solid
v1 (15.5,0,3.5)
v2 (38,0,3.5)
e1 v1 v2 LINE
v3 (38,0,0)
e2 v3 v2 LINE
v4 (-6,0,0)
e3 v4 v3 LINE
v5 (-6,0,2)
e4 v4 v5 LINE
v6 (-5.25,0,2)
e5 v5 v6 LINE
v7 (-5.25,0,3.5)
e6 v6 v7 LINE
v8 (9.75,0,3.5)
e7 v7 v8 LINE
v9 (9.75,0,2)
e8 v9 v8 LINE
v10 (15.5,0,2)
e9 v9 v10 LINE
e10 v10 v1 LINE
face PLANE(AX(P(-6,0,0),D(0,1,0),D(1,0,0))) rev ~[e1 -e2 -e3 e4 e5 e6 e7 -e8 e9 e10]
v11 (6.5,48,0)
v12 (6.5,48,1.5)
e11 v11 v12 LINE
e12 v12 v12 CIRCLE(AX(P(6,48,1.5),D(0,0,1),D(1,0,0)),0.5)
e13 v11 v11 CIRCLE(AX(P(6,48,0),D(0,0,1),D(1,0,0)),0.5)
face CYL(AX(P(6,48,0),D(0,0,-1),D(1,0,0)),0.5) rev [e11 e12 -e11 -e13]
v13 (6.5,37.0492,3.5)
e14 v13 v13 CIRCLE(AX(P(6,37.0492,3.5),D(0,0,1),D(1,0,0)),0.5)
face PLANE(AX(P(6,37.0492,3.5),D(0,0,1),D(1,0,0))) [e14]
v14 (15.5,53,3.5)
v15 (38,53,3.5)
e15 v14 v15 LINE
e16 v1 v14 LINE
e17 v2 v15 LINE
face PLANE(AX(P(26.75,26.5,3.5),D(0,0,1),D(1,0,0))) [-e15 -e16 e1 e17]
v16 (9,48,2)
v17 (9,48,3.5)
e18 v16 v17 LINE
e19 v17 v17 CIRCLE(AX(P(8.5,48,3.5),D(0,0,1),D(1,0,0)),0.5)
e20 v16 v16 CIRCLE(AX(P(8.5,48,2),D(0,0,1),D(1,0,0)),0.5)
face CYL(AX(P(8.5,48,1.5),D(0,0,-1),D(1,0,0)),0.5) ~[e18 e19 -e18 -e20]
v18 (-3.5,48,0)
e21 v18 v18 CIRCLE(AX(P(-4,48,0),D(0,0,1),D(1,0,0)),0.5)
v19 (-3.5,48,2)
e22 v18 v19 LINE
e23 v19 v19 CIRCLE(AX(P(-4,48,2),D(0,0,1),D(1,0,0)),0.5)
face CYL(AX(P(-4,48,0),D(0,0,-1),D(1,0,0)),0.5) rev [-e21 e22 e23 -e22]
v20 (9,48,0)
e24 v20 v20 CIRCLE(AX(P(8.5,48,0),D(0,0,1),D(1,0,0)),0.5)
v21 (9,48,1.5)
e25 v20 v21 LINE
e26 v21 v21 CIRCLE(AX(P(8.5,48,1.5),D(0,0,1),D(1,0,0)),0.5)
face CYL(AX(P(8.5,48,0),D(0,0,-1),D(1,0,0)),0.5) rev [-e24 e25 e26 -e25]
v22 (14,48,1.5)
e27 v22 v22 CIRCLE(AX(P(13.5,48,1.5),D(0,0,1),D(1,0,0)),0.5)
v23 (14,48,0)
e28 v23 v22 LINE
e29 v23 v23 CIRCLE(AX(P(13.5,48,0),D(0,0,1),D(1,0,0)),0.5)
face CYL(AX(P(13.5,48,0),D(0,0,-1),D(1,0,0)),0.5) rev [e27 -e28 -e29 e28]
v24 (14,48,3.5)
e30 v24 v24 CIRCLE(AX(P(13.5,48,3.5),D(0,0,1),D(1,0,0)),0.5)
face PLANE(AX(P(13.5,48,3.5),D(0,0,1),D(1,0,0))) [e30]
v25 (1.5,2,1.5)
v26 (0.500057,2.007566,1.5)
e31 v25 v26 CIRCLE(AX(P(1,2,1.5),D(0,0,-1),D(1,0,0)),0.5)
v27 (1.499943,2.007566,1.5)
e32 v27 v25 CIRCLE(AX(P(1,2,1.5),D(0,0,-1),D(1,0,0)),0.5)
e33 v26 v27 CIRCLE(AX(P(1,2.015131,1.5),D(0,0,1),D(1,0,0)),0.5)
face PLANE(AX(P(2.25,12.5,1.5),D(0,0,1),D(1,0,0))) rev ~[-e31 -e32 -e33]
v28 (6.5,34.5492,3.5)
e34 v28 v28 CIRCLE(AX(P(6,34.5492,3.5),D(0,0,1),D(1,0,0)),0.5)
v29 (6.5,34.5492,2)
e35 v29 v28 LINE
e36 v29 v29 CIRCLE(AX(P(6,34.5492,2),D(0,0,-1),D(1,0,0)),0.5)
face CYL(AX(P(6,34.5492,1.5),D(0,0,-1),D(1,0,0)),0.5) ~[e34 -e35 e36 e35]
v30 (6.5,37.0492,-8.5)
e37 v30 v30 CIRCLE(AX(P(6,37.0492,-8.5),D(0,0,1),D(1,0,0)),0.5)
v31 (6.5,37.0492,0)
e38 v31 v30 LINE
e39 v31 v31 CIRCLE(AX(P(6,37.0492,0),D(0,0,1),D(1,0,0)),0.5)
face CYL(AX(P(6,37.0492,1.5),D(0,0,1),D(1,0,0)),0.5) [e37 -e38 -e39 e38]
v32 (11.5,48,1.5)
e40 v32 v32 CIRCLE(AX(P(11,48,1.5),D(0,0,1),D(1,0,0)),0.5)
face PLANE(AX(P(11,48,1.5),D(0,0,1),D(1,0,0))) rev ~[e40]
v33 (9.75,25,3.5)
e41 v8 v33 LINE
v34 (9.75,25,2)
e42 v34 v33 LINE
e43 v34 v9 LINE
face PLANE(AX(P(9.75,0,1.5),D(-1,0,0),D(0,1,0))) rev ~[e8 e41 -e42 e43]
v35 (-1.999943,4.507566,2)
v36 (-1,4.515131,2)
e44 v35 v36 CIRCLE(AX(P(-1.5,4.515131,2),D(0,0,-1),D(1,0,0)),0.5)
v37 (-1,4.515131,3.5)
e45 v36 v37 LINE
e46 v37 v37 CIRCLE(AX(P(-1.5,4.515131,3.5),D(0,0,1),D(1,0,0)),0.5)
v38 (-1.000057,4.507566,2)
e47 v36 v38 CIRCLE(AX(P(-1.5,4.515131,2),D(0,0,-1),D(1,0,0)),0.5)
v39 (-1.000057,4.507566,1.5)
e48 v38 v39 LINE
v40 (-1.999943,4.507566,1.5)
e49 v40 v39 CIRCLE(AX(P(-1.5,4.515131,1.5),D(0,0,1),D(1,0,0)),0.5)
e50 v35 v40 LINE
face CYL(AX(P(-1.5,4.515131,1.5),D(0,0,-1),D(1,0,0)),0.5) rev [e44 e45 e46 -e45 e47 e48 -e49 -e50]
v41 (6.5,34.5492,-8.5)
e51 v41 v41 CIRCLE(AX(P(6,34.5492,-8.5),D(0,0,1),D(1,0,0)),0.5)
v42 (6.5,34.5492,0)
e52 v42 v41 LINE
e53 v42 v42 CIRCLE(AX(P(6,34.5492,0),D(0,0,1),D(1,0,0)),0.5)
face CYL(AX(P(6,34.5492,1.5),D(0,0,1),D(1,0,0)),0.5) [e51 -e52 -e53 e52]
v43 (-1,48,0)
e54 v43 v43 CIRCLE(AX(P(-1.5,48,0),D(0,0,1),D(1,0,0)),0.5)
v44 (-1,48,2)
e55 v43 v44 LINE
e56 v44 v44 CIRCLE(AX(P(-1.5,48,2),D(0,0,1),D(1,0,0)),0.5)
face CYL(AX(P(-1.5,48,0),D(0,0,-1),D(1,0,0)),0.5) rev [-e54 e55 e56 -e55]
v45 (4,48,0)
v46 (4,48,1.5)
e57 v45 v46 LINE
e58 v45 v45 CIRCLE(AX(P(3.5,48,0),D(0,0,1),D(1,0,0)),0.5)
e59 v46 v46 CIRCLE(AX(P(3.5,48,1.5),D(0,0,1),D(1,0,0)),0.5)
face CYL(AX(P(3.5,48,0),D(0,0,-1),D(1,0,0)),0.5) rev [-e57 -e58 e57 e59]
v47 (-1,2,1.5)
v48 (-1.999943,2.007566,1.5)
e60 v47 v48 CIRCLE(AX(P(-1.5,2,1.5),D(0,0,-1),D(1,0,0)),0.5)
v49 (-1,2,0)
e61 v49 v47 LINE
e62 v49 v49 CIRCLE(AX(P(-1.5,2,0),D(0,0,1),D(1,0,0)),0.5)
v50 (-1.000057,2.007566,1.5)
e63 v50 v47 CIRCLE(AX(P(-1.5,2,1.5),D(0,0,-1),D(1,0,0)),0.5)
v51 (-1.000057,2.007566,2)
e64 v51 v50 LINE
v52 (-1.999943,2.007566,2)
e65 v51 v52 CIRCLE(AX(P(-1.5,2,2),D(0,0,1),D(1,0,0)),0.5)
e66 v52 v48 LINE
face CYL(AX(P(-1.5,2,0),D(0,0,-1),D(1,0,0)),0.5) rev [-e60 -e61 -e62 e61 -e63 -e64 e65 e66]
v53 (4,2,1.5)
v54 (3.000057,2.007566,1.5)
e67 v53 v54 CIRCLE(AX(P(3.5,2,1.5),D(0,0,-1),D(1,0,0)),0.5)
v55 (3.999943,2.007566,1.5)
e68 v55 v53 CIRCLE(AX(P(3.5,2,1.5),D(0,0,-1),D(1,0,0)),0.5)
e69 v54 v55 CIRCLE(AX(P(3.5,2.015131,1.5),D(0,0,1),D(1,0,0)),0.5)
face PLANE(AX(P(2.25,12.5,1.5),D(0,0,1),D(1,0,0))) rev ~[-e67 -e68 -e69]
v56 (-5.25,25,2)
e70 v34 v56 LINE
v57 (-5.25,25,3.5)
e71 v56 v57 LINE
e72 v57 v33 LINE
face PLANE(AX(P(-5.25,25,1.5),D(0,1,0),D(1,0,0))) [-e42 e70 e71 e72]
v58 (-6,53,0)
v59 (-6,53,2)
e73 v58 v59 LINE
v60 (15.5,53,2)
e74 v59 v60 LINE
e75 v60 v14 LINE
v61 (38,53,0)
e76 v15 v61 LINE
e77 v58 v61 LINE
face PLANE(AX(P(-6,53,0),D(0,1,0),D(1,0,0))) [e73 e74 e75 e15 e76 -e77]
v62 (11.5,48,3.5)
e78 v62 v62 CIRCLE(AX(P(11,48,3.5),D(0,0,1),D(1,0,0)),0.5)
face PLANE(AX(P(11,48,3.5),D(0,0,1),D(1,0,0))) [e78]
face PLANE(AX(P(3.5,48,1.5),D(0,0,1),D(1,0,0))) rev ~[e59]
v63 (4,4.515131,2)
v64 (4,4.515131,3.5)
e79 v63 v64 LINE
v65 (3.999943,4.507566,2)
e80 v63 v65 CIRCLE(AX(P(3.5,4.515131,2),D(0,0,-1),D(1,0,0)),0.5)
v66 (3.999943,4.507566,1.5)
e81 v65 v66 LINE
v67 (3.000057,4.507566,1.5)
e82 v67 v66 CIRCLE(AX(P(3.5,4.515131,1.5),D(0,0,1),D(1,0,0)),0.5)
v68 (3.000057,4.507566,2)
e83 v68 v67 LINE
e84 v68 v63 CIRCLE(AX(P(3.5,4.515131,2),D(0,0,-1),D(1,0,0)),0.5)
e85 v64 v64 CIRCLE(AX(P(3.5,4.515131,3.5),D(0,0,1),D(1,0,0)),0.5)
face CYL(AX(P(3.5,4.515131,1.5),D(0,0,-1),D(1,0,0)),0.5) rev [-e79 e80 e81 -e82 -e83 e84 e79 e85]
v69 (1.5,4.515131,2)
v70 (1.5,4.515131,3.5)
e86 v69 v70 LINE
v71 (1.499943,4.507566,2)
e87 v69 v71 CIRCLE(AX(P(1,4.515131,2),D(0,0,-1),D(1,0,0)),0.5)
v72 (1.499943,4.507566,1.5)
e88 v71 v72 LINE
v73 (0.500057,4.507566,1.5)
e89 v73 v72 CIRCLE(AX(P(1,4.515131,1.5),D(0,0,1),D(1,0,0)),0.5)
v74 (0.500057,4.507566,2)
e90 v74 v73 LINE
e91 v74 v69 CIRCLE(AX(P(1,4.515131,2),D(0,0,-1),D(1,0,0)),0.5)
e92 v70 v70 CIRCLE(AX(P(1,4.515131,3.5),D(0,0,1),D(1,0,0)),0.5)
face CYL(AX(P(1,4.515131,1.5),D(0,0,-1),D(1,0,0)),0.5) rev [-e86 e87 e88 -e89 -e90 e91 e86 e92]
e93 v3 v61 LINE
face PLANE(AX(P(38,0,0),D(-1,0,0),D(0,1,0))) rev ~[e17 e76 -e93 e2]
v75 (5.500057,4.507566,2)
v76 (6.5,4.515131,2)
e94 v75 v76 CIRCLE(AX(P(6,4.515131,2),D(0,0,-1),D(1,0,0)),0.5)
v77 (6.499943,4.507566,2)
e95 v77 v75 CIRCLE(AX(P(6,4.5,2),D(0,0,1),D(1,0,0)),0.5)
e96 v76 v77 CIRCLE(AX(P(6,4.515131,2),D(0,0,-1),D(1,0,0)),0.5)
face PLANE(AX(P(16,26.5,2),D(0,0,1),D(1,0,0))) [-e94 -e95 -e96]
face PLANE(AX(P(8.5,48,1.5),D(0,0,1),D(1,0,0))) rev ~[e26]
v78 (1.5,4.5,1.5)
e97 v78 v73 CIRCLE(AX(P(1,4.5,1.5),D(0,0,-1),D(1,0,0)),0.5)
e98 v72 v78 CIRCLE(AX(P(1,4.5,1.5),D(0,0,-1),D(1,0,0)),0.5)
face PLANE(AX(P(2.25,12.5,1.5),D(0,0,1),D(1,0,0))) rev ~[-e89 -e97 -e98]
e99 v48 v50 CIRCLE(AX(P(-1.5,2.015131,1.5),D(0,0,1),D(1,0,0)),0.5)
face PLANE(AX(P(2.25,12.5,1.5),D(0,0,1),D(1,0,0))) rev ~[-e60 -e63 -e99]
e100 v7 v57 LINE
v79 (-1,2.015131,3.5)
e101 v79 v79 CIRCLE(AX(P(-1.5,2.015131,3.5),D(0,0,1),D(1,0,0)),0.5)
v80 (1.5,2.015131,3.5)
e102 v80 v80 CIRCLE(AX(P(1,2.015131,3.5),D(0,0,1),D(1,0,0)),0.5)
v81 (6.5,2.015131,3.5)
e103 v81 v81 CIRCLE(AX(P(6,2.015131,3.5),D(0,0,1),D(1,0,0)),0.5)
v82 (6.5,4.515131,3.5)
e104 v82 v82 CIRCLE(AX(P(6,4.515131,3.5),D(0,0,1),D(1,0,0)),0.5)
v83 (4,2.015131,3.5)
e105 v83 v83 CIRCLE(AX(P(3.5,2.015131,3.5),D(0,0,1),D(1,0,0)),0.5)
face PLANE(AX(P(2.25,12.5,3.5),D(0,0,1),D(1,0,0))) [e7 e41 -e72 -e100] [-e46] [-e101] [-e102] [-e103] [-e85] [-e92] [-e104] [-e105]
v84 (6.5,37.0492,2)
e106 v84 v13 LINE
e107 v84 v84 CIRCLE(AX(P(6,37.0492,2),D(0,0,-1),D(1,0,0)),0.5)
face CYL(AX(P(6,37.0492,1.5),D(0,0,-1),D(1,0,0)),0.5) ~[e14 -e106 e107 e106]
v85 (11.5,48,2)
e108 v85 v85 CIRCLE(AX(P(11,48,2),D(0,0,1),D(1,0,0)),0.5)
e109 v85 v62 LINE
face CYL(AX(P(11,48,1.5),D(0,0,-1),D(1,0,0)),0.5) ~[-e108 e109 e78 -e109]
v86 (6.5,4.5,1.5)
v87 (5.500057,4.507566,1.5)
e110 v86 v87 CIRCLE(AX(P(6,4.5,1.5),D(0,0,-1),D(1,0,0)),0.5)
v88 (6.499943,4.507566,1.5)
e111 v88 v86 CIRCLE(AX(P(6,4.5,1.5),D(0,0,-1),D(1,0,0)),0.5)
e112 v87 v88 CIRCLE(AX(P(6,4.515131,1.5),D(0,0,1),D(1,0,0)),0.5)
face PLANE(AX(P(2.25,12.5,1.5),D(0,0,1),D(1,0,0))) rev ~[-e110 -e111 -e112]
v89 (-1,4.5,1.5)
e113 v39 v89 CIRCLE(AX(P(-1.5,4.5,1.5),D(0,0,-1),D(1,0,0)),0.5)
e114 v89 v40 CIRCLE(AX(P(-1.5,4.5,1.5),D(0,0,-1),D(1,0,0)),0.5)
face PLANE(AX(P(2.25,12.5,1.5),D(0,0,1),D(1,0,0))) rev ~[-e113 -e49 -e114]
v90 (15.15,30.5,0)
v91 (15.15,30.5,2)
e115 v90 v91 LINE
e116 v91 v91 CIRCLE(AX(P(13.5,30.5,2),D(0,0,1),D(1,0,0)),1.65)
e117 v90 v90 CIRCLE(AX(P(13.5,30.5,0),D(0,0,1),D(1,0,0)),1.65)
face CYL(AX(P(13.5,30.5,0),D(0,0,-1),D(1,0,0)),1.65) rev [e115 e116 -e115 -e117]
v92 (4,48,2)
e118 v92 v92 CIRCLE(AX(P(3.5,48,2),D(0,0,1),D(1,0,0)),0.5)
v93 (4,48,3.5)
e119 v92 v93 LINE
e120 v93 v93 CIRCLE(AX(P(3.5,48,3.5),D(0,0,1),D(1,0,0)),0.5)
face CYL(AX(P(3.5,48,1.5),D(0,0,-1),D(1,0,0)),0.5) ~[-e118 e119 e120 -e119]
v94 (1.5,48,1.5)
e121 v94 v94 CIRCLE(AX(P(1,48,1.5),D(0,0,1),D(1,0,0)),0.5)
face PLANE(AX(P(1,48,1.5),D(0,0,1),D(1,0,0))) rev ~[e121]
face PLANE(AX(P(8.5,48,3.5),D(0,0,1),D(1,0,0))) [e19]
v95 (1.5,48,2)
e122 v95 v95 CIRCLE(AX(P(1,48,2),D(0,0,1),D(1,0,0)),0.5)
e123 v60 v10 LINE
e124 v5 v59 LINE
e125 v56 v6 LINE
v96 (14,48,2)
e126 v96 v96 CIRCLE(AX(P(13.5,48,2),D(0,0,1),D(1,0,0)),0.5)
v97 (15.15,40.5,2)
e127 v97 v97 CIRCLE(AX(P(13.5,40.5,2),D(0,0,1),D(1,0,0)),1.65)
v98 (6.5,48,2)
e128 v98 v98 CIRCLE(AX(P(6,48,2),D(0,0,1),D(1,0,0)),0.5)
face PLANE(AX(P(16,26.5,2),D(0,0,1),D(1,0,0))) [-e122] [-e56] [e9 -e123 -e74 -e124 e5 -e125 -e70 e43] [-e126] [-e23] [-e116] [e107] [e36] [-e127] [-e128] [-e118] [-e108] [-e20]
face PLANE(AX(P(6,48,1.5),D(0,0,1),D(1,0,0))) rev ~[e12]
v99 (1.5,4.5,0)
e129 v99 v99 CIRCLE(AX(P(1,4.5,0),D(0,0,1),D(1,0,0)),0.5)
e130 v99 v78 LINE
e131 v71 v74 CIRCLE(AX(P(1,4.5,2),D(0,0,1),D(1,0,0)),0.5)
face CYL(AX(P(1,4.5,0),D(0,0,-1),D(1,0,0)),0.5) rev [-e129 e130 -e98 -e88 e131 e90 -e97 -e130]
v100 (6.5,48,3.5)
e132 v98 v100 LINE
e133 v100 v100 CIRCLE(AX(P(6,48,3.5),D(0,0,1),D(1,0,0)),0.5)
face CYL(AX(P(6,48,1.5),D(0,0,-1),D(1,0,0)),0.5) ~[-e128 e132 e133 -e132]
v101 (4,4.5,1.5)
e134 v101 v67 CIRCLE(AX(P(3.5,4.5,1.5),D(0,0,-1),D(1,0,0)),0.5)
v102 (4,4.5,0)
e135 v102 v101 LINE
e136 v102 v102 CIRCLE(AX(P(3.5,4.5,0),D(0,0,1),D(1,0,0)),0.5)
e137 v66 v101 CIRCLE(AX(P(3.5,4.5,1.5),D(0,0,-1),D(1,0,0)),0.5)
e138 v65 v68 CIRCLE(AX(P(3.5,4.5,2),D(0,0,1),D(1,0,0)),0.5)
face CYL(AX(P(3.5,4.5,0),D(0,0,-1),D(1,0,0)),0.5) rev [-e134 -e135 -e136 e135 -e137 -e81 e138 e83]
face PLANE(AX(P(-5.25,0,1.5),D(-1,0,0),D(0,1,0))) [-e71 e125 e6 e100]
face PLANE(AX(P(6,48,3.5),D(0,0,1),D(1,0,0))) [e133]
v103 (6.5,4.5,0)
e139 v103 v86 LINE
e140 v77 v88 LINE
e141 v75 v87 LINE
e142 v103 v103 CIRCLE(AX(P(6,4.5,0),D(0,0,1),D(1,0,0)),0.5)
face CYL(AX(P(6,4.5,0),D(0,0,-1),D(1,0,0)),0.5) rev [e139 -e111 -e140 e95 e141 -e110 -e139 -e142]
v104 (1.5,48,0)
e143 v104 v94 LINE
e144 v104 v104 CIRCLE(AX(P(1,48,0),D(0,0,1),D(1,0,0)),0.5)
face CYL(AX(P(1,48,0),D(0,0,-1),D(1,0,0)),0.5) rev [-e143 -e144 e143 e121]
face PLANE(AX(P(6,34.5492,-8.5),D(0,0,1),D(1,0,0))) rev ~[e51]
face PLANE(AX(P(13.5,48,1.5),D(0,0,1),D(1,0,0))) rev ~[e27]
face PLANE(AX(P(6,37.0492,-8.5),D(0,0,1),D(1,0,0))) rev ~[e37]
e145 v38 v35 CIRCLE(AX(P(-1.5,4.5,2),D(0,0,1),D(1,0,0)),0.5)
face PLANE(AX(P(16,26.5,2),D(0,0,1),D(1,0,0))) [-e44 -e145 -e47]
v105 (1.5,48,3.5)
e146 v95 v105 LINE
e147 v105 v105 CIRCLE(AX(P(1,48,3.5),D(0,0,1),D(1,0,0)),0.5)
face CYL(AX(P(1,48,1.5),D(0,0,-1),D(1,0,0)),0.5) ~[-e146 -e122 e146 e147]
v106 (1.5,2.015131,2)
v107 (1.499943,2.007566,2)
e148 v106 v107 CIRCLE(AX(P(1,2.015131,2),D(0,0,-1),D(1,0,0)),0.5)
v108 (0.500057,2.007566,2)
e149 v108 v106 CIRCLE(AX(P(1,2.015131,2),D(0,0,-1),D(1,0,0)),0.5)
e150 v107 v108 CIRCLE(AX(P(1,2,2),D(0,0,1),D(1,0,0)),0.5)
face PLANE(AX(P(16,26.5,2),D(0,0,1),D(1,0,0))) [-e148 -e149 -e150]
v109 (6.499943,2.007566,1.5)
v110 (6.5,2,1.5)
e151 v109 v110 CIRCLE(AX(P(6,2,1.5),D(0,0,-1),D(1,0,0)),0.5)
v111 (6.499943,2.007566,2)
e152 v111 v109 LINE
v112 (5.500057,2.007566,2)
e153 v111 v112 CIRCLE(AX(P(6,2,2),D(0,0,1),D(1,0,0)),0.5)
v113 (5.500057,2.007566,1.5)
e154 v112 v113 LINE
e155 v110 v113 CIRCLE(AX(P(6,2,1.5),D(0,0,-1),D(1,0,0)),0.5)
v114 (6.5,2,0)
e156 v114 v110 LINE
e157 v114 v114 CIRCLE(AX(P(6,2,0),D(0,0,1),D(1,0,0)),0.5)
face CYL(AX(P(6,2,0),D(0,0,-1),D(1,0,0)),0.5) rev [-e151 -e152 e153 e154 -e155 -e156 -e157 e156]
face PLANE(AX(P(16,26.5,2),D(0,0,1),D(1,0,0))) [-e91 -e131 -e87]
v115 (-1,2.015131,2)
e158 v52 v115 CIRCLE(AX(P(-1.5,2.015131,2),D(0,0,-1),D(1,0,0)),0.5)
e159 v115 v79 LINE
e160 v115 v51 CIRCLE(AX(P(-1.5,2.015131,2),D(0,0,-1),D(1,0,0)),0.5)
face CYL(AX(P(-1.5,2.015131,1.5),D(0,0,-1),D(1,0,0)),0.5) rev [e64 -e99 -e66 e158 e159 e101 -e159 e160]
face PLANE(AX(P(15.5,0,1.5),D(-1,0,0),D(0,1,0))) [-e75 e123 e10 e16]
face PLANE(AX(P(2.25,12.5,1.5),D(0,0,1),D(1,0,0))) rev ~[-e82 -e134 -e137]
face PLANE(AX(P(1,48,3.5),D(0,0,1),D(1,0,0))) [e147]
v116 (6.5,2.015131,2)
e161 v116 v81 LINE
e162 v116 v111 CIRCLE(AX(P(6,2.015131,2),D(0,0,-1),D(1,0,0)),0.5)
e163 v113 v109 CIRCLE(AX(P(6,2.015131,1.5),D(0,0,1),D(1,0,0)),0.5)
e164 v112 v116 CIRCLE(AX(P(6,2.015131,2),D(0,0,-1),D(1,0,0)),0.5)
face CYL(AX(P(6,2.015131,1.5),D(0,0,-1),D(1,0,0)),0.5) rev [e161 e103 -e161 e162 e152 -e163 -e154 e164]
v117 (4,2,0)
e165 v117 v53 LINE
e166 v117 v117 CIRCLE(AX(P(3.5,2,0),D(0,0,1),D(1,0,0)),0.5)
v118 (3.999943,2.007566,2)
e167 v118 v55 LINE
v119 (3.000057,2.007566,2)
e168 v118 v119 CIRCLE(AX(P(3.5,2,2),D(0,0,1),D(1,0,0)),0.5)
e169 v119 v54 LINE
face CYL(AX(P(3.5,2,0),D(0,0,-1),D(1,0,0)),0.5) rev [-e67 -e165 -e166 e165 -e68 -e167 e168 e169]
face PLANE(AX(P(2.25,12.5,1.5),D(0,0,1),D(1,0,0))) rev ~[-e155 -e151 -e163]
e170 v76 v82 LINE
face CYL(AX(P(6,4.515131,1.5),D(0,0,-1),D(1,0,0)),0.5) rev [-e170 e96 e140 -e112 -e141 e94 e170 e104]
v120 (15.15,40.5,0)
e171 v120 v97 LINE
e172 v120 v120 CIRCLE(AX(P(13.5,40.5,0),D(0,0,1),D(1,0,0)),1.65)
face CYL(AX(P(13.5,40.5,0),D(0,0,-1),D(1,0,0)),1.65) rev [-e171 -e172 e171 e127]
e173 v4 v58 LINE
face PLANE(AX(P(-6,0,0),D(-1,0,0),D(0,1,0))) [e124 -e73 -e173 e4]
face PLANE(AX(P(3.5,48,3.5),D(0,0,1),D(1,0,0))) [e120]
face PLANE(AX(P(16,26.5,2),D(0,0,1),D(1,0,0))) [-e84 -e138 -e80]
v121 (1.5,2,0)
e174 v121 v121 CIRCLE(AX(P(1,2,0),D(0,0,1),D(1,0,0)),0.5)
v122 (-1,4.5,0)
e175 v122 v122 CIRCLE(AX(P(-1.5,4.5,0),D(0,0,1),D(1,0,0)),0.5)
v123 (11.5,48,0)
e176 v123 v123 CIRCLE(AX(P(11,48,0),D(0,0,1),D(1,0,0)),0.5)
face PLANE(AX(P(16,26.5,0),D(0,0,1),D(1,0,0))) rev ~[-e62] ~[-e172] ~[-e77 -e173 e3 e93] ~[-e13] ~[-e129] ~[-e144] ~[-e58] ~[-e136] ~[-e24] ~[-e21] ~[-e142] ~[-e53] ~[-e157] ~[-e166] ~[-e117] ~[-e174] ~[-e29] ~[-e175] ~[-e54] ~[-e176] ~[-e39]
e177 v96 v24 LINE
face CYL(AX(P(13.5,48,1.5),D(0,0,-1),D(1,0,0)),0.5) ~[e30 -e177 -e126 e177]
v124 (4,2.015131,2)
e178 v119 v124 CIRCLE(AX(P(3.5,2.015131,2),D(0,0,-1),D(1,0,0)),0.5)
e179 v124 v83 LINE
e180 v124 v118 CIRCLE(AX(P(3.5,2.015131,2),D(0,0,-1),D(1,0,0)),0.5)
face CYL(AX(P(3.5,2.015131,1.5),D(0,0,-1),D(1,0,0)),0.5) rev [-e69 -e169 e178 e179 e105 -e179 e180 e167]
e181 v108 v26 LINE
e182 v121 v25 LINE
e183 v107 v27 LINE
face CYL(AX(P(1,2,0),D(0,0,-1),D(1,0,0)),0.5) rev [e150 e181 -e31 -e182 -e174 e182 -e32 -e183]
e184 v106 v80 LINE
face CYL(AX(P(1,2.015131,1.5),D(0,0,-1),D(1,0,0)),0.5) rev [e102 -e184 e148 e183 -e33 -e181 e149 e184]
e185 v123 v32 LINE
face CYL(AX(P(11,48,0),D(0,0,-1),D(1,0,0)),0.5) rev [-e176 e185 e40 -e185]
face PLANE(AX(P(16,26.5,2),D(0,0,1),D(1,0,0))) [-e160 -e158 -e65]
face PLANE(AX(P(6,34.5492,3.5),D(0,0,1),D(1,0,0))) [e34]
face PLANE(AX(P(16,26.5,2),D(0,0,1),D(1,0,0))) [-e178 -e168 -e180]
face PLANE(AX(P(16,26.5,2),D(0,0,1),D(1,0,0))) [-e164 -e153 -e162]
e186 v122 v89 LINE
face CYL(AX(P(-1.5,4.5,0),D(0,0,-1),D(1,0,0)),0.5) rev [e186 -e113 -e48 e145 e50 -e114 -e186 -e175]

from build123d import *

# Parameters (mm, degrees)
SKETCH_W      = 44
SKETCH_H      = 53
SKETCH_R      = 1.65
SKETCH_R_2    = 0.5
PAD_DEPTH     = 2
SKETCH001_R   = 0.5
SKETCH001_W   = 22.5
SKETCH001_H   = 53
SKETCH001_W_2 = 15
SKETCH001_H_2 = 25
PAD001_DEPTH  = 2
SKETCH002_R   = 0.5
PAD002_DEPTH  = 10


with BuildPart() as part:
    # Sketch → Pad (new body)
    with BuildSketch(Plane.XY):
        with Locations((16, 26.5)):
            Rectangle(SKETCH_W, SKETCH_H)
        with Locations((13.5, 40.5)):
            Circle(SKETCH_R, mode=Mode.SUBTRACT)
        with Locations((13.5, 30.5)):
            Circle(SKETCH_R, mode=Mode.SUBTRACT)
        with Locations((1, 48)):
            Circle(SKETCH_R_2, mode=Mode.SUBTRACT)
        with Locations((3.5, 48)):
            Circle(SKETCH_R_2, mode=Mode.SUBTRACT)
        with Locations((6, 48)):
            Circle(SKETCH_R_2, mode=Mode.SUBTRACT)
        with Locations((8.5, 48)):
            Circle(SKETCH_R_2, mode=Mode.SUBTRACT)
        with Locations((11, 48)):
            Circle(SKETCH_R_2, mode=Mode.SUBTRACT)
        with Locations((13.5, 48)):
            Circle(SKETCH_R_2, mode=Mode.SUBTRACT)
        with Locations((-4, 48)):
            Circle(SKETCH_R_2, mode=Mode.SUBTRACT)
        with Locations((-1.5, 48)):
            Circle(SKETCH_R_2, mode=Mode.SUBTRACT)
        with Locations((3.5, 4.5)):
            Circle(SKETCH_R_2, mode=Mode.SUBTRACT)
        with Locations((6, 4.5)):
            Circle(SKETCH_R_2, mode=Mode.SUBTRACT)
        with Locations((-1.5, 4.5)):
            Circle(SKETCH_R_2, mode=Mode.SUBTRACT)
        with Locations((1, 4.5)):
            Circle(SKETCH_R_2, mode=Mode.SUBTRACT)
        with Locations((3.5, 2)):
            Circle(SKETCH_R_2, mode=Mode.SUBTRACT)
        with Locations((6, 2)):
            Circle(SKETCH_R_2, mode=Mode.SUBTRACT)
        with Locations((-1.5, 2)):
            Circle(SKETCH_R_2, mode=Mode.SUBTRACT)
        with Locations((1, 2)):
            Circle(SKETCH_R_2, mode=Mode.SUBTRACT)
    extrude(amount=PAD_DEPTH)

    # Sketch001 → Pad001 (join)
    with BuildSketch(Plane.XY.offset(1.5)):
        with Locations((1, 48)):
            Circle(SKETCH001_R)
        with Locations((3.5, 48)):
            Circle(SKETCH001_R)
        with Locations((6, 48)):
            Circle(SKETCH001_R)
        with Locations((8.5, 48)):
            Circle(SKETCH001_R)
        with Locations((11, 48)):
            Circle(SKETCH001_R)
        with Locations((13.5, 48)):
            Circle(SKETCH001_R)
        with Locations((6, 37.0492)):
            Circle(SKETCH001_R)
        with Locations((6, 34.5492)):
            Circle(SKETCH001_R)
        with Locations((26.75, 26.5)):
            Rectangle(SKETCH001_W, SKETCH001_H)
        with Locations((2.25, 12.5)):
            Rectangle(SKETCH001_W_2, SKETCH001_H_2)
        with Locations((3.5, 4.515131)):
            Circle(SKETCH001_R, mode=Mode.SUBTRACT)
        with Locations((6, 4.515131)):
            Circle(SKETCH001_R, mode=Mode.SUBTRACT)
        with Locations((-1.5, 4.515131)):
            Circle(SKETCH001_R, mode=Mode.SUBTRACT)
        with Locations((1, 4.515131)):
            Circle(SKETCH001_R, mode=Mode.SUBTRACT)
        with Locations((3.5, 2.015131)):
            Circle(SKETCH001_R, mode=Mode.SUBTRACT)
        with Locations((6, 2.015131)):
            Circle(SKETCH001_R, mode=Mode.SUBTRACT)
        with Locations((-1.5, 2.015131)):
            Circle(SKETCH001_R, mode=Mode.SUBTRACT)
        with Locations((1, 2.015131)):
            Circle(SKETCH001_R, mode=Mode.SUBTRACT)
    extrude(amount=PAD001_DEPTH)

    # Sketch002 → Pad002 (join)
    with BuildSketch(Plane.XY.offset(1.5)):
        with Locations((6, 37.0492)):
            Circle(SKETCH002_R)
        with Locations((6, 34.5492)):
            Circle(SKETCH002_R)
    extrude(amount=-PAD002_DEPTH)


solid = part.part
